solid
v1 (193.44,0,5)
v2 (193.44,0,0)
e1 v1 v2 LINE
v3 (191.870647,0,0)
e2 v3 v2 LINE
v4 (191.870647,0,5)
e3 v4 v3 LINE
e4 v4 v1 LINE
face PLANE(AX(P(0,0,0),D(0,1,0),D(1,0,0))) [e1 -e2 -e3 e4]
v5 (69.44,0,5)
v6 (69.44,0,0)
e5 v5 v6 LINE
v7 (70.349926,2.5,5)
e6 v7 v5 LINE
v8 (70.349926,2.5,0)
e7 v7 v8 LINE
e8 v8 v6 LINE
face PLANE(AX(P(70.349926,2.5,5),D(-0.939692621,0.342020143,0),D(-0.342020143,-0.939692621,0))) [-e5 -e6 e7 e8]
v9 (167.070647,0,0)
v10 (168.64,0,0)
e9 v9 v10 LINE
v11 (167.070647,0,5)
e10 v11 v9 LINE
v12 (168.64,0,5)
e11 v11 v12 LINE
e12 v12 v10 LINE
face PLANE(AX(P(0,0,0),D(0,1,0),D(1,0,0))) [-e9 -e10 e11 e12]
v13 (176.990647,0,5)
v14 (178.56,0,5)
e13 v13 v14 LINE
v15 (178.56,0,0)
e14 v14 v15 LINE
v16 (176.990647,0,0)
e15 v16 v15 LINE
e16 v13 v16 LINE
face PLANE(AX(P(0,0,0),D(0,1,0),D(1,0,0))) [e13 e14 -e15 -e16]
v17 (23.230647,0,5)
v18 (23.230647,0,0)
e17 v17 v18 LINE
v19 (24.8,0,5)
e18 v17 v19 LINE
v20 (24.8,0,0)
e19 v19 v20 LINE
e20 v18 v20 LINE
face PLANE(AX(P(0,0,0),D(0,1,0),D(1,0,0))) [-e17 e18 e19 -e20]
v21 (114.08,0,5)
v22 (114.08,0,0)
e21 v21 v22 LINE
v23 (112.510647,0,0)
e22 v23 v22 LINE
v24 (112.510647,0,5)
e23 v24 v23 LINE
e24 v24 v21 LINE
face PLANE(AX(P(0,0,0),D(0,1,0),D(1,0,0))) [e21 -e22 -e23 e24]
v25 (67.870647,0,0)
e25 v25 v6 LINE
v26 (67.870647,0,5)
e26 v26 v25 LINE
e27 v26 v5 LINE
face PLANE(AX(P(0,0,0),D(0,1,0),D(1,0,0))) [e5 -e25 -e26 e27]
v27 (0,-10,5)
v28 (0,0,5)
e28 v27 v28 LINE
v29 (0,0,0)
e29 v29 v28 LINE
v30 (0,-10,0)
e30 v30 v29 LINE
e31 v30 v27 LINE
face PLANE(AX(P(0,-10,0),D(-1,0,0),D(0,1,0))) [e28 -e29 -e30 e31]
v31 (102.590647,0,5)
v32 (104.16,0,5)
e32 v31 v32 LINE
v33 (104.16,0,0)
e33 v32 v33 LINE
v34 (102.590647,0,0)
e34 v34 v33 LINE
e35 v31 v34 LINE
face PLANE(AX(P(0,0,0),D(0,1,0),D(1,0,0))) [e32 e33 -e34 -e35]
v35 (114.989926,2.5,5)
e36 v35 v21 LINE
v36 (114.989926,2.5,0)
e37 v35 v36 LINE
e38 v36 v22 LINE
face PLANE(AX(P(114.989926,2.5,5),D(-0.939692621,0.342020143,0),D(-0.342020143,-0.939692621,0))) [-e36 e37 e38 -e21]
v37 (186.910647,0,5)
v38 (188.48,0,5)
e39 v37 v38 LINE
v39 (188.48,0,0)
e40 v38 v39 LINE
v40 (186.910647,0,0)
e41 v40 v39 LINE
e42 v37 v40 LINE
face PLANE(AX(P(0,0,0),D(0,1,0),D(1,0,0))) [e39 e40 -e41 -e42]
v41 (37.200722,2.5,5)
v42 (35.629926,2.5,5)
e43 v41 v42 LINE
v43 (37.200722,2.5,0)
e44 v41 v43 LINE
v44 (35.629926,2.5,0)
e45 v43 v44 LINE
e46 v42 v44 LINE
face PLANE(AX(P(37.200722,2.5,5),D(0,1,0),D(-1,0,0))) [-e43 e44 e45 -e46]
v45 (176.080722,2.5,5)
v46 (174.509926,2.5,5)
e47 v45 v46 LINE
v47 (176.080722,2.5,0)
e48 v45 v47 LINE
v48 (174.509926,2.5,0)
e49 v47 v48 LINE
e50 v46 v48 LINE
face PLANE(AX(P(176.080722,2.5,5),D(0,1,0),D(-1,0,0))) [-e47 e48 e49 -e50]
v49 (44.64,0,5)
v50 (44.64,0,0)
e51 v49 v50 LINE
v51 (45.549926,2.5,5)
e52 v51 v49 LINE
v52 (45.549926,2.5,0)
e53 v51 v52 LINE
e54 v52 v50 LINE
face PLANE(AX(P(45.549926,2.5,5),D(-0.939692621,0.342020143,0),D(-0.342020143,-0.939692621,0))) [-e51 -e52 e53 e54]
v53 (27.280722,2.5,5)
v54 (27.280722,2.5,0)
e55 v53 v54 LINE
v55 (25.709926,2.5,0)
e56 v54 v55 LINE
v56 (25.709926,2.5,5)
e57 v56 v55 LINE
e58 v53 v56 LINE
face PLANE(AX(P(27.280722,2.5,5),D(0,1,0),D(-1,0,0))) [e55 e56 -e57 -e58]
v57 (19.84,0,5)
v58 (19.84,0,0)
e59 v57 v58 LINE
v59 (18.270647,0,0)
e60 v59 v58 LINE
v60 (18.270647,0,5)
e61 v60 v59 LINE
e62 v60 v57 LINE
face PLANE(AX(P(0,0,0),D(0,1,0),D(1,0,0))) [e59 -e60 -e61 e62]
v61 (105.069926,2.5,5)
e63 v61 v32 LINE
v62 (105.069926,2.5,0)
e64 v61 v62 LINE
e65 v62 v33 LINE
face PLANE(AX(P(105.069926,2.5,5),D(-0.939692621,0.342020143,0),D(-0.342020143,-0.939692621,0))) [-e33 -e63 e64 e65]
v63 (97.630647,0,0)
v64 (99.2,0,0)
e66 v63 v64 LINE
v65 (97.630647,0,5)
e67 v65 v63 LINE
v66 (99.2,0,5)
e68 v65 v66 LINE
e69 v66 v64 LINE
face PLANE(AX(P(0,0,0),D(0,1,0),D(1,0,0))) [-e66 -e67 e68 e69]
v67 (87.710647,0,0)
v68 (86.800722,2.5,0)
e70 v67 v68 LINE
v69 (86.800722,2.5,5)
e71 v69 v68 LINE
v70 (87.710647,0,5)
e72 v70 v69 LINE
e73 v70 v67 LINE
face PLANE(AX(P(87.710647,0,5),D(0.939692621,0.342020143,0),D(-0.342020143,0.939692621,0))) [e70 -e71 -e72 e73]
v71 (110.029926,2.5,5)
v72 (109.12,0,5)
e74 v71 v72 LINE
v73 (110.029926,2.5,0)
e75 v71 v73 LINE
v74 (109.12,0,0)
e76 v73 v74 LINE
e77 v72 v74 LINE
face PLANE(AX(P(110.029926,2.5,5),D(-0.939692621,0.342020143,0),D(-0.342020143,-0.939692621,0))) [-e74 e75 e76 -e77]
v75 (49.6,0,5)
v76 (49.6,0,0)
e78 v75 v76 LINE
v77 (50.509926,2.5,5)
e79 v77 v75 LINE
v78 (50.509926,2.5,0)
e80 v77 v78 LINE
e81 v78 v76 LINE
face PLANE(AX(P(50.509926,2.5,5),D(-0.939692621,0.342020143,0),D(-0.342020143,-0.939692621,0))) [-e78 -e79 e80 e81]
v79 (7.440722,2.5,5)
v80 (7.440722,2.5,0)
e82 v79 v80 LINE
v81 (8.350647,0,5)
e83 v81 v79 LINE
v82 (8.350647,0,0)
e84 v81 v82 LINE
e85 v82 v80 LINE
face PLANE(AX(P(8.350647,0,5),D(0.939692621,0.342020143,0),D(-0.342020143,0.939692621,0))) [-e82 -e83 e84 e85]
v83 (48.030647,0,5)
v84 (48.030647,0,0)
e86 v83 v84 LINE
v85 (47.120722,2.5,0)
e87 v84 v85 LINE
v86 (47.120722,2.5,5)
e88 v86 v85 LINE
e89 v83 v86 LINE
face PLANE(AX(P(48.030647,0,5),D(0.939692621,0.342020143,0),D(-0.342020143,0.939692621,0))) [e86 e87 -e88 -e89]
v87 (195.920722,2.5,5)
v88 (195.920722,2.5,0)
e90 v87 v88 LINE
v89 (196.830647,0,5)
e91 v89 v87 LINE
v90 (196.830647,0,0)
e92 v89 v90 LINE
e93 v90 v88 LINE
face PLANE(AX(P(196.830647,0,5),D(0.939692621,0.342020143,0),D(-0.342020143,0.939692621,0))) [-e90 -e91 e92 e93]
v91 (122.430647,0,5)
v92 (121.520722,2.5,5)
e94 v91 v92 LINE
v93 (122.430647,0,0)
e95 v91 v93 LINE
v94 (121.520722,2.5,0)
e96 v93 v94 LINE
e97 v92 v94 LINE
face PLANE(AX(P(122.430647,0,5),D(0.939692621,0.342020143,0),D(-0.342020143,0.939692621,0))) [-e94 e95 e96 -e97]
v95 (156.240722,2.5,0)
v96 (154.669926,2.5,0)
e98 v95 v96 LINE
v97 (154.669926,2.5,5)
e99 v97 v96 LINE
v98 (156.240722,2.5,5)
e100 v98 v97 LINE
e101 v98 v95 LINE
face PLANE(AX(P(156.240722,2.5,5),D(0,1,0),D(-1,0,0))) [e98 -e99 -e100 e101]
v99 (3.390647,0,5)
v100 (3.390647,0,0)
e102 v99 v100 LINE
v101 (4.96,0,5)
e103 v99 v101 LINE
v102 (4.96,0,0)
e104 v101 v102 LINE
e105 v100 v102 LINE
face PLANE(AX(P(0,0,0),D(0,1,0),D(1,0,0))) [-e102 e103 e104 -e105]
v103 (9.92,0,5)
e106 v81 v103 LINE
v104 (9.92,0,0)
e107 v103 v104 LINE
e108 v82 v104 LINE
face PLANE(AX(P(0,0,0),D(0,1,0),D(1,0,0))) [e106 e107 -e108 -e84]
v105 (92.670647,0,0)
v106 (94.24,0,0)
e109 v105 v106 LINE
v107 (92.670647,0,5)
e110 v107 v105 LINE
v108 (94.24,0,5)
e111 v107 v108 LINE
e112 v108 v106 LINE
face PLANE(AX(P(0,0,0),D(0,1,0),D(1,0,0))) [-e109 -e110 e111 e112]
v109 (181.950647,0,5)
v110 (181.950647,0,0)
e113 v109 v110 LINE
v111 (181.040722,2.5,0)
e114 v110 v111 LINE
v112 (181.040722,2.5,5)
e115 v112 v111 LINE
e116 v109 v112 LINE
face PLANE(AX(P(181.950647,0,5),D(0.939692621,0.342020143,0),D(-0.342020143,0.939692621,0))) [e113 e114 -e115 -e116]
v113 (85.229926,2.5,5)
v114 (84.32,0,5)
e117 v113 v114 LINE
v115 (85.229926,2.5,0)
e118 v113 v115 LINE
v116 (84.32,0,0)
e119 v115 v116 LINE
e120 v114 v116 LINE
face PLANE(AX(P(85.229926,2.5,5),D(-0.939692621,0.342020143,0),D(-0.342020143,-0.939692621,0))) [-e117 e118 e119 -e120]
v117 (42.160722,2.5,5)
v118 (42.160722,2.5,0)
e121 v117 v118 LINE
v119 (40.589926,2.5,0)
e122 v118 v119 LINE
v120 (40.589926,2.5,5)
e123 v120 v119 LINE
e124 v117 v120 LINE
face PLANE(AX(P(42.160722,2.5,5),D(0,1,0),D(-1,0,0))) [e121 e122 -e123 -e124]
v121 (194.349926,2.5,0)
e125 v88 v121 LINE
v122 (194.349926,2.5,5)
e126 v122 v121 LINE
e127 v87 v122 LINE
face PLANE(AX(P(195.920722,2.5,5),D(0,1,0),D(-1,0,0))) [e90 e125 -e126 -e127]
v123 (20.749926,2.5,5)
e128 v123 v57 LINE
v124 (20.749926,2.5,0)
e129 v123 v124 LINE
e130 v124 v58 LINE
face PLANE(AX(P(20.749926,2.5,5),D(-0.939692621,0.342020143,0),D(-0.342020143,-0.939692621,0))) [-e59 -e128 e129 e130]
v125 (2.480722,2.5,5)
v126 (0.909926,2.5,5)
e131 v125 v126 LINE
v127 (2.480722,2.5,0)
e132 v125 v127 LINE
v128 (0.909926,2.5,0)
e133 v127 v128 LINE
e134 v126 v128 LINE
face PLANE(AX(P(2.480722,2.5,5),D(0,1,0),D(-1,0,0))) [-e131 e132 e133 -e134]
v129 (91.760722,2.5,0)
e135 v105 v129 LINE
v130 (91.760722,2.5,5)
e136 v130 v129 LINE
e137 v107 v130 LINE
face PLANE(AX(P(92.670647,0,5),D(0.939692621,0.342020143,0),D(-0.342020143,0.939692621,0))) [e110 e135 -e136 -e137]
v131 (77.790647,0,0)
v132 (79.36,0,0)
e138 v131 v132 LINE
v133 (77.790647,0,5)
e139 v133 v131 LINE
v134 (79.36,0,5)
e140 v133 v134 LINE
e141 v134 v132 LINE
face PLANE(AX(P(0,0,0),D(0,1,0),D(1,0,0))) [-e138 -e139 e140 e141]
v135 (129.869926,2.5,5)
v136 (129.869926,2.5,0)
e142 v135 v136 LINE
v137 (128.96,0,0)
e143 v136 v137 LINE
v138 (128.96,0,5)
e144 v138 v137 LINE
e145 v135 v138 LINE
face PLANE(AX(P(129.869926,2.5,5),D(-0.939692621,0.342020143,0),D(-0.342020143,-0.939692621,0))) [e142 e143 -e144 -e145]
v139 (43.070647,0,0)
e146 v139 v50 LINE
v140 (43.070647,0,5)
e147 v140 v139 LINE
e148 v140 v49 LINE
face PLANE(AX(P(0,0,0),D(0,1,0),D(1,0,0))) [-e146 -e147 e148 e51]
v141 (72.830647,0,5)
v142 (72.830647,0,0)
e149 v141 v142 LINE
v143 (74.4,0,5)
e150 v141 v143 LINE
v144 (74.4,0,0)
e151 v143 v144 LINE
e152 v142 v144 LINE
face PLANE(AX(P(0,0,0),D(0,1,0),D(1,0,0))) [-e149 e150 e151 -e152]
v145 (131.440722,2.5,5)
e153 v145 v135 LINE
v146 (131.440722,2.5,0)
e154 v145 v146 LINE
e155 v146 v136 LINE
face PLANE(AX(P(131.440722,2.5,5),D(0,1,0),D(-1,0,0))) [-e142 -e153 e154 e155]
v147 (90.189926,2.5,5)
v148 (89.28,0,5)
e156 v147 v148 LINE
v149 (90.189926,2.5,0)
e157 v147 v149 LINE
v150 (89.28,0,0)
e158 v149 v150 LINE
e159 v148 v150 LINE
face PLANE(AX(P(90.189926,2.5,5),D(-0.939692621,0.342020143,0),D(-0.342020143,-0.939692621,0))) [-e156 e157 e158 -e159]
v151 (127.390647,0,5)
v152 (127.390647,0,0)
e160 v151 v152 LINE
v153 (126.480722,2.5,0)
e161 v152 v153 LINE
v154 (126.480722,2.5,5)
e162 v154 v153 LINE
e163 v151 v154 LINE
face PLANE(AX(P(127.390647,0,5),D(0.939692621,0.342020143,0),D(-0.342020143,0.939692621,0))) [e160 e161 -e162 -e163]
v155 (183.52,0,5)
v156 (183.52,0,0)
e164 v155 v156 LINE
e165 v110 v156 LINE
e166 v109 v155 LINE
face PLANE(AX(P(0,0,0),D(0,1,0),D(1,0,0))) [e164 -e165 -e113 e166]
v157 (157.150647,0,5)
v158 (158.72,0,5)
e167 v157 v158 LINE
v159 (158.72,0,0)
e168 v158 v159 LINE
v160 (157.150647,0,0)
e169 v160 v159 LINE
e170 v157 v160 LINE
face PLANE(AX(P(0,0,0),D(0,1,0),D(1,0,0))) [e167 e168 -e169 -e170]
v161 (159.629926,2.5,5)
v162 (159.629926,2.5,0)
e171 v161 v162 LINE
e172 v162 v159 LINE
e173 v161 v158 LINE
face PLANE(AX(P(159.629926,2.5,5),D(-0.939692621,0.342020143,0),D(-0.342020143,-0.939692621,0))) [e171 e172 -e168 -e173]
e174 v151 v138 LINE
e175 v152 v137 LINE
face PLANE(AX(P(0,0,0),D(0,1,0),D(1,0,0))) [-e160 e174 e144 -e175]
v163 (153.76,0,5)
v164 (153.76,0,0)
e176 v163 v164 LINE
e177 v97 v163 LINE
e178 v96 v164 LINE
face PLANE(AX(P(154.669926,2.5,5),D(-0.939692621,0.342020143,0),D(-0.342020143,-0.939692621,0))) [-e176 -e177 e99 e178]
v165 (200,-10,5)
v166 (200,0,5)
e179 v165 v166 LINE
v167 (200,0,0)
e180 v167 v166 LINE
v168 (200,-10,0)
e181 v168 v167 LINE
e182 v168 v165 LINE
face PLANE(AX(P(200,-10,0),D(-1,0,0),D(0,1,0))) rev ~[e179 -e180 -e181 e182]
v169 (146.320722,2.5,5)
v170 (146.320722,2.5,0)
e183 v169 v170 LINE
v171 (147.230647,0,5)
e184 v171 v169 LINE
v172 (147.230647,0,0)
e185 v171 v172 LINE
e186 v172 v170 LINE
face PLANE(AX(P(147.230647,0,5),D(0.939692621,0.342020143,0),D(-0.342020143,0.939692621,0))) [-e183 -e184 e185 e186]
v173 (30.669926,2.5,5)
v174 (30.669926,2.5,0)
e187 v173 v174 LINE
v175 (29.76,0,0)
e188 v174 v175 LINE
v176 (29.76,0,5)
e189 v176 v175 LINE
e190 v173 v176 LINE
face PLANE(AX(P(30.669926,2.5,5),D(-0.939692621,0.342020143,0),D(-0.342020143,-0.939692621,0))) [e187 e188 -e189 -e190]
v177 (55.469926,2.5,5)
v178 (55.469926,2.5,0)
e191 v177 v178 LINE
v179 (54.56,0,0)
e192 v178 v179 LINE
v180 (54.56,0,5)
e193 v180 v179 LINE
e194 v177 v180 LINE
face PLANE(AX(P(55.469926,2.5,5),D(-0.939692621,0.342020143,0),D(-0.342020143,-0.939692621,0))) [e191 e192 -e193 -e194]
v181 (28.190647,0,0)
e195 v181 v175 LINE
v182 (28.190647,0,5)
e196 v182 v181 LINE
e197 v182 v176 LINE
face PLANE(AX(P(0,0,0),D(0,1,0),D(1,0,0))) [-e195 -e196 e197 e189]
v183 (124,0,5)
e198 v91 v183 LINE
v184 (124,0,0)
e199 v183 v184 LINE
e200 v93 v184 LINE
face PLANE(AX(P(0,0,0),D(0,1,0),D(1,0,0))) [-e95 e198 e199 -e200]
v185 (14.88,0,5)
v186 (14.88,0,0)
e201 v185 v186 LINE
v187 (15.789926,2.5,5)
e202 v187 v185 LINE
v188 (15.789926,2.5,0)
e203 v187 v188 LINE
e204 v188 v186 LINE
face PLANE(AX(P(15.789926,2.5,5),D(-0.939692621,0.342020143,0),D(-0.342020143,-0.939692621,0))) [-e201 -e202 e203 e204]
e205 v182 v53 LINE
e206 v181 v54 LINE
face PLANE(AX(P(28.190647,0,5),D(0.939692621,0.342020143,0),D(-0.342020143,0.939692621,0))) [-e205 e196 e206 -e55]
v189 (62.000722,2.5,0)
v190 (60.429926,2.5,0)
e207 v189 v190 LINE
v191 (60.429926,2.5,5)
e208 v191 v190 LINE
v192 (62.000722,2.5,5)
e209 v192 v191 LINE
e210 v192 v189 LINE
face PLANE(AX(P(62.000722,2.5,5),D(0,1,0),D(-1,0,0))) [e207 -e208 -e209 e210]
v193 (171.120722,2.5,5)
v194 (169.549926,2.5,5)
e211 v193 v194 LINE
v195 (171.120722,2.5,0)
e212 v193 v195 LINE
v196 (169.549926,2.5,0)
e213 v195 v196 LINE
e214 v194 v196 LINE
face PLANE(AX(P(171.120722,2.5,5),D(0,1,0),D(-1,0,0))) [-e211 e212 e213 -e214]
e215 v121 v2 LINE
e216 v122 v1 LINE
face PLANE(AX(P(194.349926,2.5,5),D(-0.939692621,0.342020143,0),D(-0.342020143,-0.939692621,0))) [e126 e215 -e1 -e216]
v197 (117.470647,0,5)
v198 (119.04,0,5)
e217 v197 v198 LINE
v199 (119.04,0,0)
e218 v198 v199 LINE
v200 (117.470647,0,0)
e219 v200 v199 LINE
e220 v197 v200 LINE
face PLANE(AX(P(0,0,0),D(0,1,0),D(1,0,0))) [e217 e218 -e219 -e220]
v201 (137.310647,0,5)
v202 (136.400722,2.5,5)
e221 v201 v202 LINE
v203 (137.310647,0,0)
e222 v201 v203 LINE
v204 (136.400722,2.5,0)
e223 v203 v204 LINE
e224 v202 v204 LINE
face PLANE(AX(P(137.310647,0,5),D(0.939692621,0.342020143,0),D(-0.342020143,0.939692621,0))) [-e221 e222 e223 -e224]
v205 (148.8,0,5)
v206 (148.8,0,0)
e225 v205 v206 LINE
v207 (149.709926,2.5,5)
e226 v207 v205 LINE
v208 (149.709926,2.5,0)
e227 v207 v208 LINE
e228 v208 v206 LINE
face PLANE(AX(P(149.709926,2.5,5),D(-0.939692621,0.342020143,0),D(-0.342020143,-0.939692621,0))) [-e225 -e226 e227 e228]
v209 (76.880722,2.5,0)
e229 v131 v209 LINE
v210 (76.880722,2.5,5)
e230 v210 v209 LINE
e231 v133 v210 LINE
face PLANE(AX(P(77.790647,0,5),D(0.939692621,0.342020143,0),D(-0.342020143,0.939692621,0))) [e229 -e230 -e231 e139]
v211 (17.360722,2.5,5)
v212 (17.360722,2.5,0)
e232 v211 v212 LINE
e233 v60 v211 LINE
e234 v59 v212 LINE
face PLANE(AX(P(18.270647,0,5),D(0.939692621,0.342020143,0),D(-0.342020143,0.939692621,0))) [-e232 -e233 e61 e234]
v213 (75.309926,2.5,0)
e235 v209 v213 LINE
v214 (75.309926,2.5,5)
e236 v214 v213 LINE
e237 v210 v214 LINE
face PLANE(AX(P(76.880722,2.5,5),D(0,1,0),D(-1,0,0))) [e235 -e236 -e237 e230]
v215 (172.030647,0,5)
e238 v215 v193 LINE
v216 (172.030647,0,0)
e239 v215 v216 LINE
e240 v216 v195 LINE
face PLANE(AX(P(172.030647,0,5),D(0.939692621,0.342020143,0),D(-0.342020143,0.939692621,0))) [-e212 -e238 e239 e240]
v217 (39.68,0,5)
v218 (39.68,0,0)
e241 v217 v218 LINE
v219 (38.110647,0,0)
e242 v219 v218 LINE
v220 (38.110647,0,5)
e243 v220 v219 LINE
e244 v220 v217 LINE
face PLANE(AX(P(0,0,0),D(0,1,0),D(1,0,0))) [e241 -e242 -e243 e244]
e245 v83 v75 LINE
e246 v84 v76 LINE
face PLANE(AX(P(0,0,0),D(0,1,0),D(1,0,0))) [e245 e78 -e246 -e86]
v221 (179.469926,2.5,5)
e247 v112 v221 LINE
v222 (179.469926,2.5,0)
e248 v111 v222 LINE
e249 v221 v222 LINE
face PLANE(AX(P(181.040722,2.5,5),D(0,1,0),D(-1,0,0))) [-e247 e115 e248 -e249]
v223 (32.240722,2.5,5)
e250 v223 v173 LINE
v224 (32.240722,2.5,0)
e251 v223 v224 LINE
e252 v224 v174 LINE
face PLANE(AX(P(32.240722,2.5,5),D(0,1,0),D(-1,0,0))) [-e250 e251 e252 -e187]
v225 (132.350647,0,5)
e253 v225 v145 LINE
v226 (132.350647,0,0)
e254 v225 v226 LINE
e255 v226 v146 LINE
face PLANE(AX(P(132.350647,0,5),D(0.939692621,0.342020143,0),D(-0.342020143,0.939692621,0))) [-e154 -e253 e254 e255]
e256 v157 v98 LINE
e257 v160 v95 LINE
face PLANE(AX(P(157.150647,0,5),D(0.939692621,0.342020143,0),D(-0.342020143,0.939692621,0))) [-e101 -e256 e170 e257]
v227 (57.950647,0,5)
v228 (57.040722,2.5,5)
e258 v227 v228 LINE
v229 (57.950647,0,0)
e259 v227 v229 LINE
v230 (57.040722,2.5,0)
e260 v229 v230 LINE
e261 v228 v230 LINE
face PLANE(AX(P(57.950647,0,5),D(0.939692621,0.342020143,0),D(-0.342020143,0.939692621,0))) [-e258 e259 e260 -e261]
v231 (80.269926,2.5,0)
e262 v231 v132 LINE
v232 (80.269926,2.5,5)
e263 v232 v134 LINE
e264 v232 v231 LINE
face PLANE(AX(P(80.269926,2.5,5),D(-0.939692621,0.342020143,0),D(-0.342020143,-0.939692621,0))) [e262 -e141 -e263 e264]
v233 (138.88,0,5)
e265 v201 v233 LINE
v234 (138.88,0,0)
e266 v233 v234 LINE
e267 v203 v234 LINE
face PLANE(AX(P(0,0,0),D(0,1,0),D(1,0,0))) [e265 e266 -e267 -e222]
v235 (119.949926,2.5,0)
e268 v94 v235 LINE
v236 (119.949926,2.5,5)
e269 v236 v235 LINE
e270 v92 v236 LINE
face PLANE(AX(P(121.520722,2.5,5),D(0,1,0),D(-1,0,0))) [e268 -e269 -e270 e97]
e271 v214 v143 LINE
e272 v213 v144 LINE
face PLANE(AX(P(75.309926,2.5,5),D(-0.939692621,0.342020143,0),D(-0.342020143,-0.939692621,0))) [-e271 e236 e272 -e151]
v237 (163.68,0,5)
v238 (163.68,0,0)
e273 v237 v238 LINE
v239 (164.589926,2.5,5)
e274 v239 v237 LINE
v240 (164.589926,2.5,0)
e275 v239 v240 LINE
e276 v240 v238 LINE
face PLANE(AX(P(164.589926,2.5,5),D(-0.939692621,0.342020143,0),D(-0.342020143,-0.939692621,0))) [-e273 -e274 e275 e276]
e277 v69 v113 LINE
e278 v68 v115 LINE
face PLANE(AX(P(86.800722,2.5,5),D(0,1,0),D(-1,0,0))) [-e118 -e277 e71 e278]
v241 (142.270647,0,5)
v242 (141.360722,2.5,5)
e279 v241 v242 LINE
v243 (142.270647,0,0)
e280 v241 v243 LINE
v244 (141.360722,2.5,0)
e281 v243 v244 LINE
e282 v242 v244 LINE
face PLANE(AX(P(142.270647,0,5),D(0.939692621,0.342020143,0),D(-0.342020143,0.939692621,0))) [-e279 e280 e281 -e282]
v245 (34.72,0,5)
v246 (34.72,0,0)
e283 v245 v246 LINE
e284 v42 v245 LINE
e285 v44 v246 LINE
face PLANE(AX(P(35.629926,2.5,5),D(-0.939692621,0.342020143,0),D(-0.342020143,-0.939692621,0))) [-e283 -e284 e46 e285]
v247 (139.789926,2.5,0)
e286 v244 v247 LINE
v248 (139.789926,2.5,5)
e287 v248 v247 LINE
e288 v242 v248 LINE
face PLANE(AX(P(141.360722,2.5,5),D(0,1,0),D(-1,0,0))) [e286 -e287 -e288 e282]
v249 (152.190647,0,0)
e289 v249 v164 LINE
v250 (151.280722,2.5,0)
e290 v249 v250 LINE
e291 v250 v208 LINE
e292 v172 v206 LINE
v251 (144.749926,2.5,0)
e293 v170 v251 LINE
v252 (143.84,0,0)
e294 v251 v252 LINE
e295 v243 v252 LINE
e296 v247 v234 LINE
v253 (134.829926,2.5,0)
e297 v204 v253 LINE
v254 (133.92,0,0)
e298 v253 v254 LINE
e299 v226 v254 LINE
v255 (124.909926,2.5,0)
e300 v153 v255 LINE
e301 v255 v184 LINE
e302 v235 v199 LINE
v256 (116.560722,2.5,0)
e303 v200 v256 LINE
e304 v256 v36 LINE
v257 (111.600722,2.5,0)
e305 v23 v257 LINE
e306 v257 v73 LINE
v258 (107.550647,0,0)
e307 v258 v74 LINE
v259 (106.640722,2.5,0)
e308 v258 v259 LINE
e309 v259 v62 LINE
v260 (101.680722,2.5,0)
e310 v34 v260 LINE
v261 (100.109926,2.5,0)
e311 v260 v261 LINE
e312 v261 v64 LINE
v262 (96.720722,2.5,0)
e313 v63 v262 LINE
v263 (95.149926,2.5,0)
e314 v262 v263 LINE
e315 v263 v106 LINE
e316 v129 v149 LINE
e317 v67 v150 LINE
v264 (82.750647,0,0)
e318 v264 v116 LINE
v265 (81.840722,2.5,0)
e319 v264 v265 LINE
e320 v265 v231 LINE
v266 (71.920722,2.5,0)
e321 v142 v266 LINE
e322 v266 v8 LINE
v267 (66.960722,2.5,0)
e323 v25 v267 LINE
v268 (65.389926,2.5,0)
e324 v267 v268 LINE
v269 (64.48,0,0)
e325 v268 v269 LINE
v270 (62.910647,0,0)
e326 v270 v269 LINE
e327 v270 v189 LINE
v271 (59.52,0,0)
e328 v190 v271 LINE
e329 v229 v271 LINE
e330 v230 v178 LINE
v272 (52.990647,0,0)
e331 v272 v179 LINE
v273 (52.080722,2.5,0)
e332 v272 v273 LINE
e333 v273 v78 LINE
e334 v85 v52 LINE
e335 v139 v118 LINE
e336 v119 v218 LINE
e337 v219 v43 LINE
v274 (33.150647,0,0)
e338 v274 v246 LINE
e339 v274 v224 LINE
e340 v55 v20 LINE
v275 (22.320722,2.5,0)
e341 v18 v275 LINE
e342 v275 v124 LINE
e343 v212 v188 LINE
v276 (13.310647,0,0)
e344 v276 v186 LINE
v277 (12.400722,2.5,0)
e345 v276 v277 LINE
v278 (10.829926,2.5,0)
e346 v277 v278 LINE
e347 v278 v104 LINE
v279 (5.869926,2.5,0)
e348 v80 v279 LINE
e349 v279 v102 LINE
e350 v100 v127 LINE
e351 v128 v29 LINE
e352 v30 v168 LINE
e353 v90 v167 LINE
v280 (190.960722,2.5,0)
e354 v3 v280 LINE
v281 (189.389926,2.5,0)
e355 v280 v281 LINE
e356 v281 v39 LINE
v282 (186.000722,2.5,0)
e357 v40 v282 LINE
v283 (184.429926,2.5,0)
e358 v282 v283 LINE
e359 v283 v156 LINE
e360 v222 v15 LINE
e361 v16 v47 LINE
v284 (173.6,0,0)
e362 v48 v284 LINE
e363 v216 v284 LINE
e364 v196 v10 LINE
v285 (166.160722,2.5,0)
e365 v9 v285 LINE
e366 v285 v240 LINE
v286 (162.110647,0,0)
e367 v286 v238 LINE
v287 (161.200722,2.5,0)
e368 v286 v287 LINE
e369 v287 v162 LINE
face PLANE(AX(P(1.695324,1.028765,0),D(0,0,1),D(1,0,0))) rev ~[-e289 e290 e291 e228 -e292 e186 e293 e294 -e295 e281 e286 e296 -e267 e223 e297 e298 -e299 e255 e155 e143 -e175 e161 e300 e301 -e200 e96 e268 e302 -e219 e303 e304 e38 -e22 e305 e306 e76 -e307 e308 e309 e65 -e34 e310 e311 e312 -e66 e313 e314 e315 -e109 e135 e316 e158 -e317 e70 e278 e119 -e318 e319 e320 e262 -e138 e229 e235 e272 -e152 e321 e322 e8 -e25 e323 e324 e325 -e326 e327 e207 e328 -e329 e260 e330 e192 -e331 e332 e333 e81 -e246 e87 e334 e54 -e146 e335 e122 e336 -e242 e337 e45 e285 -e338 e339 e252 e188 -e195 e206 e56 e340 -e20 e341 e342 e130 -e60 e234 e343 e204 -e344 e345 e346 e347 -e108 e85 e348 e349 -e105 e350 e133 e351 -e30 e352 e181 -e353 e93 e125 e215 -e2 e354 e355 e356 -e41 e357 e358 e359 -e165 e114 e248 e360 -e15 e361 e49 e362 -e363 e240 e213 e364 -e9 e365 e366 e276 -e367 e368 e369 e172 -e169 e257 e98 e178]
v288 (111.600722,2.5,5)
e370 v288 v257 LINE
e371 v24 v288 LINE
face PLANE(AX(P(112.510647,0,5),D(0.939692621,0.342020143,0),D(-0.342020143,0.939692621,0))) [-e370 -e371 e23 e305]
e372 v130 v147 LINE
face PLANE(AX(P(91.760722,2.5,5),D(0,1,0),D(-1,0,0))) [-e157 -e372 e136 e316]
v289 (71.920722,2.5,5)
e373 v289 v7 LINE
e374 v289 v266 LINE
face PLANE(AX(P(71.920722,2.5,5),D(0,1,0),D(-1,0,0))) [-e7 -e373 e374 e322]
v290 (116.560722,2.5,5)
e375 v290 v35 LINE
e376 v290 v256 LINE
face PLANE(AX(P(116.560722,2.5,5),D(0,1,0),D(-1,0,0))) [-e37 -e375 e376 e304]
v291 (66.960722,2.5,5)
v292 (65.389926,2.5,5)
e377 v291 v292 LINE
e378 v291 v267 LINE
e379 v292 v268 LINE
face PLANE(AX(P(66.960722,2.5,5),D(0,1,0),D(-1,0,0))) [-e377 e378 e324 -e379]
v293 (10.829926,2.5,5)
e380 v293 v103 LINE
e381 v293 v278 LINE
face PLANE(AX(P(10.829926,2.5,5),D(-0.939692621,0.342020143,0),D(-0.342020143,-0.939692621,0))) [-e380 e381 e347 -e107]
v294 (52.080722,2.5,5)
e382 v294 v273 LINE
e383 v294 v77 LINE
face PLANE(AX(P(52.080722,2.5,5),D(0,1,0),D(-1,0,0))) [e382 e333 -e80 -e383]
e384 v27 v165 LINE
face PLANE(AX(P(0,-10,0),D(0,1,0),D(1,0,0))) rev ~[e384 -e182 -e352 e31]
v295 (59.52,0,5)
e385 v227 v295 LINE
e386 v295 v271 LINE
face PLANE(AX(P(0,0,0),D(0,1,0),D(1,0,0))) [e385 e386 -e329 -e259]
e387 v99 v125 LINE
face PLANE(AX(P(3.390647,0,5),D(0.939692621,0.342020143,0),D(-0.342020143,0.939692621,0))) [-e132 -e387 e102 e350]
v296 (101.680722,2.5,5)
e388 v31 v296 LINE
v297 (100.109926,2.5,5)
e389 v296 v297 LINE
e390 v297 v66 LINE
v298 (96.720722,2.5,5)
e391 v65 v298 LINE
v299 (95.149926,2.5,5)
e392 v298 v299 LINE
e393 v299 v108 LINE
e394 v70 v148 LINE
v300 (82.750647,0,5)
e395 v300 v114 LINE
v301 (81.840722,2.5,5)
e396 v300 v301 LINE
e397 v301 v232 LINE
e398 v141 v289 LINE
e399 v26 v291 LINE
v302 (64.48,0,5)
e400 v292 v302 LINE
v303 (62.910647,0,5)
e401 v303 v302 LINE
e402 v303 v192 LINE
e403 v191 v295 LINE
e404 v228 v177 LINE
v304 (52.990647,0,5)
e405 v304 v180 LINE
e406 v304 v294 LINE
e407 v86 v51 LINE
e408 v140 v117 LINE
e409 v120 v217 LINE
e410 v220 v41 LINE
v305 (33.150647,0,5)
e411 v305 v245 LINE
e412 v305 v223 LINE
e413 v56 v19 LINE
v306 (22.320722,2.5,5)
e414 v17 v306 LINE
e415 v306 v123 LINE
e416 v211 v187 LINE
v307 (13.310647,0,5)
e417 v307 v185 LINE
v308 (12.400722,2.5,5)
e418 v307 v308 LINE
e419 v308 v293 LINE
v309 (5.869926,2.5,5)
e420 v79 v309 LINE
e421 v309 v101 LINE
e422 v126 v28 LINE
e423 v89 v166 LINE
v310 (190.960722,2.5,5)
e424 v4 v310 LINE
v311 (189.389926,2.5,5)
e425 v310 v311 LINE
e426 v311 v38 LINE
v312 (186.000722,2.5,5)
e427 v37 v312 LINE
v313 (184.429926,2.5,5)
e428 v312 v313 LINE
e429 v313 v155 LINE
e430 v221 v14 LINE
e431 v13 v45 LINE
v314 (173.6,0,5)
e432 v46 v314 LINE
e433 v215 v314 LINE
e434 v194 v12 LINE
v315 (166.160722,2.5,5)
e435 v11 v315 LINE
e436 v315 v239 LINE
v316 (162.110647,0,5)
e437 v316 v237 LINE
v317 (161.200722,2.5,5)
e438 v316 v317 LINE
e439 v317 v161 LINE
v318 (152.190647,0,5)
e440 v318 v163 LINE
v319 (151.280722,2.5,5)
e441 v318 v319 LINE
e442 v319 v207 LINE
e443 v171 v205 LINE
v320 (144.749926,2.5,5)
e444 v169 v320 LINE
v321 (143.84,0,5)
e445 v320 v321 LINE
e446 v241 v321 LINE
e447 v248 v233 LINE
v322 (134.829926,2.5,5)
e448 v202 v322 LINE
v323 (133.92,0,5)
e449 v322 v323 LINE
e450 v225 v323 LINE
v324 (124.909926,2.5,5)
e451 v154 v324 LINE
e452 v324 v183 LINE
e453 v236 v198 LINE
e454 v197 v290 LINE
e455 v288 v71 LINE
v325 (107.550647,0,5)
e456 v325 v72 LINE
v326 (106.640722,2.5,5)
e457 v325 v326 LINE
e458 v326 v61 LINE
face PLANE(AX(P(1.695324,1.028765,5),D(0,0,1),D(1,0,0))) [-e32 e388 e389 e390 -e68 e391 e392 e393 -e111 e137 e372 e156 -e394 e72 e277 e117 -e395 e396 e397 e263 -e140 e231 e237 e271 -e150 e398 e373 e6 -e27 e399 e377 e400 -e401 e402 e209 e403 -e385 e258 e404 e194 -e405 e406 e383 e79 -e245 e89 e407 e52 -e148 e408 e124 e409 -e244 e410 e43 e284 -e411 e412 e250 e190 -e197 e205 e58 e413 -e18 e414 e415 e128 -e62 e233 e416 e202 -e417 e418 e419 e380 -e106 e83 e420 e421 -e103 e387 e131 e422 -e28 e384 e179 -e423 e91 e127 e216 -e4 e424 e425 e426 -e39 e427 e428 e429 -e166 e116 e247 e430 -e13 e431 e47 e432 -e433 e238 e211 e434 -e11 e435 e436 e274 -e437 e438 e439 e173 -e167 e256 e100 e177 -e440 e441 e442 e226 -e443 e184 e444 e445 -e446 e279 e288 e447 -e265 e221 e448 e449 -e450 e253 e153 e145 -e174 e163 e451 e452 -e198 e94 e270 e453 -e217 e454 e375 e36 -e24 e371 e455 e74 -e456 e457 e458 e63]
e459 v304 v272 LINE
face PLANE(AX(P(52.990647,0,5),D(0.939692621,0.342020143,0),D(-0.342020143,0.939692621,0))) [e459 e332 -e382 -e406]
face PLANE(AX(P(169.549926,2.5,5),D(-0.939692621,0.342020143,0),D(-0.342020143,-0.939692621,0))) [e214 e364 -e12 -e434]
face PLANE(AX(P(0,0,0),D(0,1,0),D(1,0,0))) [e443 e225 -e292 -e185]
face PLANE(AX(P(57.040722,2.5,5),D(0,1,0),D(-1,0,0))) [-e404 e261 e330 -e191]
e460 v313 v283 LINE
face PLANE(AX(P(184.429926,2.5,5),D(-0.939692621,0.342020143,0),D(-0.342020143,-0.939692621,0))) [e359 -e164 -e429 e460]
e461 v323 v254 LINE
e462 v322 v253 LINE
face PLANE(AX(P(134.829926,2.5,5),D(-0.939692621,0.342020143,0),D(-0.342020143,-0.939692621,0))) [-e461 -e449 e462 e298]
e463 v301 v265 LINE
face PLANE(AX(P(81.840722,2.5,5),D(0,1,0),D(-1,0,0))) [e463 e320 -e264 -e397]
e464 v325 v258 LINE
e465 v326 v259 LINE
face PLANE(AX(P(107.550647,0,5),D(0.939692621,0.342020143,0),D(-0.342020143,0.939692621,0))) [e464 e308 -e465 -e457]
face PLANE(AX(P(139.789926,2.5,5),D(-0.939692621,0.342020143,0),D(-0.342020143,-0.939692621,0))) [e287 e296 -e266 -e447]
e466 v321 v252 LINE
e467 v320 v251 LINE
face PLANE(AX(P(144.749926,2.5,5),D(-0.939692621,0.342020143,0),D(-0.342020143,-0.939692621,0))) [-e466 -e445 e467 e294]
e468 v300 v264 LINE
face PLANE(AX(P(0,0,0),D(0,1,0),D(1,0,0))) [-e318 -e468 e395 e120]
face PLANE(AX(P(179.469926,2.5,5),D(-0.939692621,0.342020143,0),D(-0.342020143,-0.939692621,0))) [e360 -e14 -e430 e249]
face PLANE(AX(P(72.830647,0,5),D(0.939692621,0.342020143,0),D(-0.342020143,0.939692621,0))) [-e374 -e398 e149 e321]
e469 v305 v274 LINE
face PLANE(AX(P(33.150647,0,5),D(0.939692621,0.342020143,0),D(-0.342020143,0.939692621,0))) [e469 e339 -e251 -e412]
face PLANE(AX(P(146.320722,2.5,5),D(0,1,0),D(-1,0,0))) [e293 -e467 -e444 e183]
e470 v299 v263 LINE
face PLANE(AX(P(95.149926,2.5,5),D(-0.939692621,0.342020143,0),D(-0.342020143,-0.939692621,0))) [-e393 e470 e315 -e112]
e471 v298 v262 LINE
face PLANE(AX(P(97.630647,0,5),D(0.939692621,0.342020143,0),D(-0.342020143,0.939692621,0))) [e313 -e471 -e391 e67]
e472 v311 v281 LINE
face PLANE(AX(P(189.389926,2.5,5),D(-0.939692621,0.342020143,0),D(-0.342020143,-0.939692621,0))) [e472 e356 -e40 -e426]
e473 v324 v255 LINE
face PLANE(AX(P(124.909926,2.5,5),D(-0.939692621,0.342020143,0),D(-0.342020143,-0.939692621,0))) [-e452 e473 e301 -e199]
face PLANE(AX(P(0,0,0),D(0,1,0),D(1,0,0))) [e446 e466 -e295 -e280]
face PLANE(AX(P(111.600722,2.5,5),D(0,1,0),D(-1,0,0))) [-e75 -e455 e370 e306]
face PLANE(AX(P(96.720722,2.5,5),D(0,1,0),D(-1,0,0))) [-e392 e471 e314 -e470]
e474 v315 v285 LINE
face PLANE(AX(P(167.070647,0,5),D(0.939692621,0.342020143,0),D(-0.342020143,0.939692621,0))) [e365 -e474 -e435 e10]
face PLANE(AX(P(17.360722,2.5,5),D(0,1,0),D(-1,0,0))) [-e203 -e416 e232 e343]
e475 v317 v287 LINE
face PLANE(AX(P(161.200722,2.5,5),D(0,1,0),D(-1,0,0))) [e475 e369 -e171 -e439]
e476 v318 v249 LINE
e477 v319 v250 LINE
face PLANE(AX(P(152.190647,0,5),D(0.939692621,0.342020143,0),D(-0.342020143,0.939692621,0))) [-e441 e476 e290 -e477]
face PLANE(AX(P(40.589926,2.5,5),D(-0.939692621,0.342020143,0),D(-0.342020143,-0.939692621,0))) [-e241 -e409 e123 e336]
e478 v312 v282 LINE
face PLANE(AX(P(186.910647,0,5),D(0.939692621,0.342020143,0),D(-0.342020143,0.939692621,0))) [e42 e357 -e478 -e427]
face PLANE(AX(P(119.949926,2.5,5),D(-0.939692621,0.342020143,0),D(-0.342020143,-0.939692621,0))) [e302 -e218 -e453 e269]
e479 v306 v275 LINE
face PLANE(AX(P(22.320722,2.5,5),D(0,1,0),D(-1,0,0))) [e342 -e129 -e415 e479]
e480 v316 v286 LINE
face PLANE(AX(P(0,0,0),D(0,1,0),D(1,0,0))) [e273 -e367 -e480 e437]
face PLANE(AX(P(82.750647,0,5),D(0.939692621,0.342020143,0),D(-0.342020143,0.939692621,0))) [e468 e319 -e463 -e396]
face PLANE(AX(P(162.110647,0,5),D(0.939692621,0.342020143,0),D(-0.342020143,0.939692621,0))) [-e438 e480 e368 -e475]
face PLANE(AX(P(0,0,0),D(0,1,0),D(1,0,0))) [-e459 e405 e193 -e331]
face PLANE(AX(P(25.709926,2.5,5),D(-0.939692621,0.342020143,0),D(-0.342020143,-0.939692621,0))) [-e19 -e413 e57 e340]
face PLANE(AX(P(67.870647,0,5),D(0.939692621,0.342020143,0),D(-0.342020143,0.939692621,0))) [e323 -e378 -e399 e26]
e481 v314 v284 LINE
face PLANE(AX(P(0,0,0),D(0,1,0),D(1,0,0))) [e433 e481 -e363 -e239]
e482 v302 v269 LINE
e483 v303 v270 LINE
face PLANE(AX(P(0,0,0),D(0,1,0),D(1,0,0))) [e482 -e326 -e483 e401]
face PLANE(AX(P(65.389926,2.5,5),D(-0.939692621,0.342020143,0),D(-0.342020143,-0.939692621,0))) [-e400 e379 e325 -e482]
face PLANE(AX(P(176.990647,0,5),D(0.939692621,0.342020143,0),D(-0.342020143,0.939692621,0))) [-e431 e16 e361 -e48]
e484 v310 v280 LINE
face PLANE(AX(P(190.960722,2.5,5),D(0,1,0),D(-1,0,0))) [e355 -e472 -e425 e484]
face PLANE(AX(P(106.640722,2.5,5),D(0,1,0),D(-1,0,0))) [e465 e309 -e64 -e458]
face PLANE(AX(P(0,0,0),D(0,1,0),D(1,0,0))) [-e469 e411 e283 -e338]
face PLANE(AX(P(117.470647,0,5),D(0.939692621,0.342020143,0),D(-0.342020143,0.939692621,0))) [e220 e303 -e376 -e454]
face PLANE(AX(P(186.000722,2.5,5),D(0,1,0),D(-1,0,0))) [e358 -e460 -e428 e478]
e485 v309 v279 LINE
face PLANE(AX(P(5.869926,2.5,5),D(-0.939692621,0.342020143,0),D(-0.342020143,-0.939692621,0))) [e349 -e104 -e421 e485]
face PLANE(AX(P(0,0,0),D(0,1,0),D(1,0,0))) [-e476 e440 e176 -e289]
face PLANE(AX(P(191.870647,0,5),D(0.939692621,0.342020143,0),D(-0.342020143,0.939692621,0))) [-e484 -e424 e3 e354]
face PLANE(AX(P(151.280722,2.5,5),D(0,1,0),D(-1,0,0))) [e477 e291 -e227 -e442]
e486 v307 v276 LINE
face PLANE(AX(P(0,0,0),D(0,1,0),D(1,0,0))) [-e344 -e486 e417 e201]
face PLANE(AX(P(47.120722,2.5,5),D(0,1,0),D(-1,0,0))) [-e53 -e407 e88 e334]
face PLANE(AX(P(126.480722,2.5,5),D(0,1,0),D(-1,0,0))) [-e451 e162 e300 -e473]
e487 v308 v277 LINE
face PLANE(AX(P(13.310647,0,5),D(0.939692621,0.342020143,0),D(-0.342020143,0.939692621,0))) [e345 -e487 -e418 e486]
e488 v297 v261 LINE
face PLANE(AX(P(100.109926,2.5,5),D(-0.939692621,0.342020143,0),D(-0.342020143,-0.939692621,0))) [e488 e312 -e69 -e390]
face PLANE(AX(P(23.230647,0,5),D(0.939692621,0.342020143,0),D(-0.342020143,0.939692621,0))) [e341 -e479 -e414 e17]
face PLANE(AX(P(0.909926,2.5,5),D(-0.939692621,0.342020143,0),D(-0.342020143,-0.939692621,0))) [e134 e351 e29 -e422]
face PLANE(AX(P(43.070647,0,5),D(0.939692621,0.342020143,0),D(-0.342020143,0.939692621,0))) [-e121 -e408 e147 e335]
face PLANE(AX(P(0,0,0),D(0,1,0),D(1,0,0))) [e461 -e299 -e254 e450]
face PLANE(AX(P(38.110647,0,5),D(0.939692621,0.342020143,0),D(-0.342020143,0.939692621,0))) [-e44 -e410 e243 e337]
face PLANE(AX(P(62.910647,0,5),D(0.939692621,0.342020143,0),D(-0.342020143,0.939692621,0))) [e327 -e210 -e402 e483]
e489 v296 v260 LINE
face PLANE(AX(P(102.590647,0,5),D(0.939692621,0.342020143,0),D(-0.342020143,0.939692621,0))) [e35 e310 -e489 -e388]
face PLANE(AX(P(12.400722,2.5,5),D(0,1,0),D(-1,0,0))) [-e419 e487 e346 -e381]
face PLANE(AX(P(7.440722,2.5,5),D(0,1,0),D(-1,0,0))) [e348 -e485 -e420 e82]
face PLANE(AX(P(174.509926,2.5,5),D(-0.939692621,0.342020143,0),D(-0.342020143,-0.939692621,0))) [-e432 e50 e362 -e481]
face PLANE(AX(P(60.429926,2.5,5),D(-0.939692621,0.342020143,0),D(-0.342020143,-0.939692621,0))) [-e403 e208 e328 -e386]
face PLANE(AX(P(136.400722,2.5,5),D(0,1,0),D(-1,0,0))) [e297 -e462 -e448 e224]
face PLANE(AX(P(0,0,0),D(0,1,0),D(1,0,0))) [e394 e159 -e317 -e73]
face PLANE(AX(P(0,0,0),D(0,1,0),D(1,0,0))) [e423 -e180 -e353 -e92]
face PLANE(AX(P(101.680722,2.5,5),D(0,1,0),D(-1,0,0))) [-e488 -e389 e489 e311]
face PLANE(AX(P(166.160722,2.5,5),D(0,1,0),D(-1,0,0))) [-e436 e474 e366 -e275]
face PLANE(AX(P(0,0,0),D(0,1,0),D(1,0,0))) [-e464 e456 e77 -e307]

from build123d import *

# Parameters (mm, degrees)
SKETCH_1_W             = 200
SKETCH_1_H             = 10
EXTRUDE_1_DEPTH        = 5
EXTRUDE_2_DEPTH        = 5
PATTERN_LINEAR_1_COUNT = 40
PATTERN_LINEAR_1_PITCH = 4.96


with BuildPart() as part:
    # 草图1 → 拉伸1 (new body)
    with BuildSketch(Plane.XY):
        with Locations((100, -5)):
            Rectangle(SKETCH_1_W, SKETCH_1_H)
    extrude(amount=EXTRUDE_1_DEPTH)

    # 草图2 → 拉伸2 (add)
    with BuildSketch(Plane.XY.offset(5)):
        Polygon((0.909925586, 2.5), (0, 0), (3.390647498, 0), (2.480721912, 2.5), align=None)
    extrude_2 = extrude(amount=-EXTRUDE_2_DEPTH)

    # 阵列(线性)1: 拉伸2 ×40
    with Locations(*[(i * PATTERN_LINEAR_1_PITCH, 0, 0) for i in range(1, PATTERN_LINEAR_1_COUNT)]):
        add(extrude_2)


solid = part.part
